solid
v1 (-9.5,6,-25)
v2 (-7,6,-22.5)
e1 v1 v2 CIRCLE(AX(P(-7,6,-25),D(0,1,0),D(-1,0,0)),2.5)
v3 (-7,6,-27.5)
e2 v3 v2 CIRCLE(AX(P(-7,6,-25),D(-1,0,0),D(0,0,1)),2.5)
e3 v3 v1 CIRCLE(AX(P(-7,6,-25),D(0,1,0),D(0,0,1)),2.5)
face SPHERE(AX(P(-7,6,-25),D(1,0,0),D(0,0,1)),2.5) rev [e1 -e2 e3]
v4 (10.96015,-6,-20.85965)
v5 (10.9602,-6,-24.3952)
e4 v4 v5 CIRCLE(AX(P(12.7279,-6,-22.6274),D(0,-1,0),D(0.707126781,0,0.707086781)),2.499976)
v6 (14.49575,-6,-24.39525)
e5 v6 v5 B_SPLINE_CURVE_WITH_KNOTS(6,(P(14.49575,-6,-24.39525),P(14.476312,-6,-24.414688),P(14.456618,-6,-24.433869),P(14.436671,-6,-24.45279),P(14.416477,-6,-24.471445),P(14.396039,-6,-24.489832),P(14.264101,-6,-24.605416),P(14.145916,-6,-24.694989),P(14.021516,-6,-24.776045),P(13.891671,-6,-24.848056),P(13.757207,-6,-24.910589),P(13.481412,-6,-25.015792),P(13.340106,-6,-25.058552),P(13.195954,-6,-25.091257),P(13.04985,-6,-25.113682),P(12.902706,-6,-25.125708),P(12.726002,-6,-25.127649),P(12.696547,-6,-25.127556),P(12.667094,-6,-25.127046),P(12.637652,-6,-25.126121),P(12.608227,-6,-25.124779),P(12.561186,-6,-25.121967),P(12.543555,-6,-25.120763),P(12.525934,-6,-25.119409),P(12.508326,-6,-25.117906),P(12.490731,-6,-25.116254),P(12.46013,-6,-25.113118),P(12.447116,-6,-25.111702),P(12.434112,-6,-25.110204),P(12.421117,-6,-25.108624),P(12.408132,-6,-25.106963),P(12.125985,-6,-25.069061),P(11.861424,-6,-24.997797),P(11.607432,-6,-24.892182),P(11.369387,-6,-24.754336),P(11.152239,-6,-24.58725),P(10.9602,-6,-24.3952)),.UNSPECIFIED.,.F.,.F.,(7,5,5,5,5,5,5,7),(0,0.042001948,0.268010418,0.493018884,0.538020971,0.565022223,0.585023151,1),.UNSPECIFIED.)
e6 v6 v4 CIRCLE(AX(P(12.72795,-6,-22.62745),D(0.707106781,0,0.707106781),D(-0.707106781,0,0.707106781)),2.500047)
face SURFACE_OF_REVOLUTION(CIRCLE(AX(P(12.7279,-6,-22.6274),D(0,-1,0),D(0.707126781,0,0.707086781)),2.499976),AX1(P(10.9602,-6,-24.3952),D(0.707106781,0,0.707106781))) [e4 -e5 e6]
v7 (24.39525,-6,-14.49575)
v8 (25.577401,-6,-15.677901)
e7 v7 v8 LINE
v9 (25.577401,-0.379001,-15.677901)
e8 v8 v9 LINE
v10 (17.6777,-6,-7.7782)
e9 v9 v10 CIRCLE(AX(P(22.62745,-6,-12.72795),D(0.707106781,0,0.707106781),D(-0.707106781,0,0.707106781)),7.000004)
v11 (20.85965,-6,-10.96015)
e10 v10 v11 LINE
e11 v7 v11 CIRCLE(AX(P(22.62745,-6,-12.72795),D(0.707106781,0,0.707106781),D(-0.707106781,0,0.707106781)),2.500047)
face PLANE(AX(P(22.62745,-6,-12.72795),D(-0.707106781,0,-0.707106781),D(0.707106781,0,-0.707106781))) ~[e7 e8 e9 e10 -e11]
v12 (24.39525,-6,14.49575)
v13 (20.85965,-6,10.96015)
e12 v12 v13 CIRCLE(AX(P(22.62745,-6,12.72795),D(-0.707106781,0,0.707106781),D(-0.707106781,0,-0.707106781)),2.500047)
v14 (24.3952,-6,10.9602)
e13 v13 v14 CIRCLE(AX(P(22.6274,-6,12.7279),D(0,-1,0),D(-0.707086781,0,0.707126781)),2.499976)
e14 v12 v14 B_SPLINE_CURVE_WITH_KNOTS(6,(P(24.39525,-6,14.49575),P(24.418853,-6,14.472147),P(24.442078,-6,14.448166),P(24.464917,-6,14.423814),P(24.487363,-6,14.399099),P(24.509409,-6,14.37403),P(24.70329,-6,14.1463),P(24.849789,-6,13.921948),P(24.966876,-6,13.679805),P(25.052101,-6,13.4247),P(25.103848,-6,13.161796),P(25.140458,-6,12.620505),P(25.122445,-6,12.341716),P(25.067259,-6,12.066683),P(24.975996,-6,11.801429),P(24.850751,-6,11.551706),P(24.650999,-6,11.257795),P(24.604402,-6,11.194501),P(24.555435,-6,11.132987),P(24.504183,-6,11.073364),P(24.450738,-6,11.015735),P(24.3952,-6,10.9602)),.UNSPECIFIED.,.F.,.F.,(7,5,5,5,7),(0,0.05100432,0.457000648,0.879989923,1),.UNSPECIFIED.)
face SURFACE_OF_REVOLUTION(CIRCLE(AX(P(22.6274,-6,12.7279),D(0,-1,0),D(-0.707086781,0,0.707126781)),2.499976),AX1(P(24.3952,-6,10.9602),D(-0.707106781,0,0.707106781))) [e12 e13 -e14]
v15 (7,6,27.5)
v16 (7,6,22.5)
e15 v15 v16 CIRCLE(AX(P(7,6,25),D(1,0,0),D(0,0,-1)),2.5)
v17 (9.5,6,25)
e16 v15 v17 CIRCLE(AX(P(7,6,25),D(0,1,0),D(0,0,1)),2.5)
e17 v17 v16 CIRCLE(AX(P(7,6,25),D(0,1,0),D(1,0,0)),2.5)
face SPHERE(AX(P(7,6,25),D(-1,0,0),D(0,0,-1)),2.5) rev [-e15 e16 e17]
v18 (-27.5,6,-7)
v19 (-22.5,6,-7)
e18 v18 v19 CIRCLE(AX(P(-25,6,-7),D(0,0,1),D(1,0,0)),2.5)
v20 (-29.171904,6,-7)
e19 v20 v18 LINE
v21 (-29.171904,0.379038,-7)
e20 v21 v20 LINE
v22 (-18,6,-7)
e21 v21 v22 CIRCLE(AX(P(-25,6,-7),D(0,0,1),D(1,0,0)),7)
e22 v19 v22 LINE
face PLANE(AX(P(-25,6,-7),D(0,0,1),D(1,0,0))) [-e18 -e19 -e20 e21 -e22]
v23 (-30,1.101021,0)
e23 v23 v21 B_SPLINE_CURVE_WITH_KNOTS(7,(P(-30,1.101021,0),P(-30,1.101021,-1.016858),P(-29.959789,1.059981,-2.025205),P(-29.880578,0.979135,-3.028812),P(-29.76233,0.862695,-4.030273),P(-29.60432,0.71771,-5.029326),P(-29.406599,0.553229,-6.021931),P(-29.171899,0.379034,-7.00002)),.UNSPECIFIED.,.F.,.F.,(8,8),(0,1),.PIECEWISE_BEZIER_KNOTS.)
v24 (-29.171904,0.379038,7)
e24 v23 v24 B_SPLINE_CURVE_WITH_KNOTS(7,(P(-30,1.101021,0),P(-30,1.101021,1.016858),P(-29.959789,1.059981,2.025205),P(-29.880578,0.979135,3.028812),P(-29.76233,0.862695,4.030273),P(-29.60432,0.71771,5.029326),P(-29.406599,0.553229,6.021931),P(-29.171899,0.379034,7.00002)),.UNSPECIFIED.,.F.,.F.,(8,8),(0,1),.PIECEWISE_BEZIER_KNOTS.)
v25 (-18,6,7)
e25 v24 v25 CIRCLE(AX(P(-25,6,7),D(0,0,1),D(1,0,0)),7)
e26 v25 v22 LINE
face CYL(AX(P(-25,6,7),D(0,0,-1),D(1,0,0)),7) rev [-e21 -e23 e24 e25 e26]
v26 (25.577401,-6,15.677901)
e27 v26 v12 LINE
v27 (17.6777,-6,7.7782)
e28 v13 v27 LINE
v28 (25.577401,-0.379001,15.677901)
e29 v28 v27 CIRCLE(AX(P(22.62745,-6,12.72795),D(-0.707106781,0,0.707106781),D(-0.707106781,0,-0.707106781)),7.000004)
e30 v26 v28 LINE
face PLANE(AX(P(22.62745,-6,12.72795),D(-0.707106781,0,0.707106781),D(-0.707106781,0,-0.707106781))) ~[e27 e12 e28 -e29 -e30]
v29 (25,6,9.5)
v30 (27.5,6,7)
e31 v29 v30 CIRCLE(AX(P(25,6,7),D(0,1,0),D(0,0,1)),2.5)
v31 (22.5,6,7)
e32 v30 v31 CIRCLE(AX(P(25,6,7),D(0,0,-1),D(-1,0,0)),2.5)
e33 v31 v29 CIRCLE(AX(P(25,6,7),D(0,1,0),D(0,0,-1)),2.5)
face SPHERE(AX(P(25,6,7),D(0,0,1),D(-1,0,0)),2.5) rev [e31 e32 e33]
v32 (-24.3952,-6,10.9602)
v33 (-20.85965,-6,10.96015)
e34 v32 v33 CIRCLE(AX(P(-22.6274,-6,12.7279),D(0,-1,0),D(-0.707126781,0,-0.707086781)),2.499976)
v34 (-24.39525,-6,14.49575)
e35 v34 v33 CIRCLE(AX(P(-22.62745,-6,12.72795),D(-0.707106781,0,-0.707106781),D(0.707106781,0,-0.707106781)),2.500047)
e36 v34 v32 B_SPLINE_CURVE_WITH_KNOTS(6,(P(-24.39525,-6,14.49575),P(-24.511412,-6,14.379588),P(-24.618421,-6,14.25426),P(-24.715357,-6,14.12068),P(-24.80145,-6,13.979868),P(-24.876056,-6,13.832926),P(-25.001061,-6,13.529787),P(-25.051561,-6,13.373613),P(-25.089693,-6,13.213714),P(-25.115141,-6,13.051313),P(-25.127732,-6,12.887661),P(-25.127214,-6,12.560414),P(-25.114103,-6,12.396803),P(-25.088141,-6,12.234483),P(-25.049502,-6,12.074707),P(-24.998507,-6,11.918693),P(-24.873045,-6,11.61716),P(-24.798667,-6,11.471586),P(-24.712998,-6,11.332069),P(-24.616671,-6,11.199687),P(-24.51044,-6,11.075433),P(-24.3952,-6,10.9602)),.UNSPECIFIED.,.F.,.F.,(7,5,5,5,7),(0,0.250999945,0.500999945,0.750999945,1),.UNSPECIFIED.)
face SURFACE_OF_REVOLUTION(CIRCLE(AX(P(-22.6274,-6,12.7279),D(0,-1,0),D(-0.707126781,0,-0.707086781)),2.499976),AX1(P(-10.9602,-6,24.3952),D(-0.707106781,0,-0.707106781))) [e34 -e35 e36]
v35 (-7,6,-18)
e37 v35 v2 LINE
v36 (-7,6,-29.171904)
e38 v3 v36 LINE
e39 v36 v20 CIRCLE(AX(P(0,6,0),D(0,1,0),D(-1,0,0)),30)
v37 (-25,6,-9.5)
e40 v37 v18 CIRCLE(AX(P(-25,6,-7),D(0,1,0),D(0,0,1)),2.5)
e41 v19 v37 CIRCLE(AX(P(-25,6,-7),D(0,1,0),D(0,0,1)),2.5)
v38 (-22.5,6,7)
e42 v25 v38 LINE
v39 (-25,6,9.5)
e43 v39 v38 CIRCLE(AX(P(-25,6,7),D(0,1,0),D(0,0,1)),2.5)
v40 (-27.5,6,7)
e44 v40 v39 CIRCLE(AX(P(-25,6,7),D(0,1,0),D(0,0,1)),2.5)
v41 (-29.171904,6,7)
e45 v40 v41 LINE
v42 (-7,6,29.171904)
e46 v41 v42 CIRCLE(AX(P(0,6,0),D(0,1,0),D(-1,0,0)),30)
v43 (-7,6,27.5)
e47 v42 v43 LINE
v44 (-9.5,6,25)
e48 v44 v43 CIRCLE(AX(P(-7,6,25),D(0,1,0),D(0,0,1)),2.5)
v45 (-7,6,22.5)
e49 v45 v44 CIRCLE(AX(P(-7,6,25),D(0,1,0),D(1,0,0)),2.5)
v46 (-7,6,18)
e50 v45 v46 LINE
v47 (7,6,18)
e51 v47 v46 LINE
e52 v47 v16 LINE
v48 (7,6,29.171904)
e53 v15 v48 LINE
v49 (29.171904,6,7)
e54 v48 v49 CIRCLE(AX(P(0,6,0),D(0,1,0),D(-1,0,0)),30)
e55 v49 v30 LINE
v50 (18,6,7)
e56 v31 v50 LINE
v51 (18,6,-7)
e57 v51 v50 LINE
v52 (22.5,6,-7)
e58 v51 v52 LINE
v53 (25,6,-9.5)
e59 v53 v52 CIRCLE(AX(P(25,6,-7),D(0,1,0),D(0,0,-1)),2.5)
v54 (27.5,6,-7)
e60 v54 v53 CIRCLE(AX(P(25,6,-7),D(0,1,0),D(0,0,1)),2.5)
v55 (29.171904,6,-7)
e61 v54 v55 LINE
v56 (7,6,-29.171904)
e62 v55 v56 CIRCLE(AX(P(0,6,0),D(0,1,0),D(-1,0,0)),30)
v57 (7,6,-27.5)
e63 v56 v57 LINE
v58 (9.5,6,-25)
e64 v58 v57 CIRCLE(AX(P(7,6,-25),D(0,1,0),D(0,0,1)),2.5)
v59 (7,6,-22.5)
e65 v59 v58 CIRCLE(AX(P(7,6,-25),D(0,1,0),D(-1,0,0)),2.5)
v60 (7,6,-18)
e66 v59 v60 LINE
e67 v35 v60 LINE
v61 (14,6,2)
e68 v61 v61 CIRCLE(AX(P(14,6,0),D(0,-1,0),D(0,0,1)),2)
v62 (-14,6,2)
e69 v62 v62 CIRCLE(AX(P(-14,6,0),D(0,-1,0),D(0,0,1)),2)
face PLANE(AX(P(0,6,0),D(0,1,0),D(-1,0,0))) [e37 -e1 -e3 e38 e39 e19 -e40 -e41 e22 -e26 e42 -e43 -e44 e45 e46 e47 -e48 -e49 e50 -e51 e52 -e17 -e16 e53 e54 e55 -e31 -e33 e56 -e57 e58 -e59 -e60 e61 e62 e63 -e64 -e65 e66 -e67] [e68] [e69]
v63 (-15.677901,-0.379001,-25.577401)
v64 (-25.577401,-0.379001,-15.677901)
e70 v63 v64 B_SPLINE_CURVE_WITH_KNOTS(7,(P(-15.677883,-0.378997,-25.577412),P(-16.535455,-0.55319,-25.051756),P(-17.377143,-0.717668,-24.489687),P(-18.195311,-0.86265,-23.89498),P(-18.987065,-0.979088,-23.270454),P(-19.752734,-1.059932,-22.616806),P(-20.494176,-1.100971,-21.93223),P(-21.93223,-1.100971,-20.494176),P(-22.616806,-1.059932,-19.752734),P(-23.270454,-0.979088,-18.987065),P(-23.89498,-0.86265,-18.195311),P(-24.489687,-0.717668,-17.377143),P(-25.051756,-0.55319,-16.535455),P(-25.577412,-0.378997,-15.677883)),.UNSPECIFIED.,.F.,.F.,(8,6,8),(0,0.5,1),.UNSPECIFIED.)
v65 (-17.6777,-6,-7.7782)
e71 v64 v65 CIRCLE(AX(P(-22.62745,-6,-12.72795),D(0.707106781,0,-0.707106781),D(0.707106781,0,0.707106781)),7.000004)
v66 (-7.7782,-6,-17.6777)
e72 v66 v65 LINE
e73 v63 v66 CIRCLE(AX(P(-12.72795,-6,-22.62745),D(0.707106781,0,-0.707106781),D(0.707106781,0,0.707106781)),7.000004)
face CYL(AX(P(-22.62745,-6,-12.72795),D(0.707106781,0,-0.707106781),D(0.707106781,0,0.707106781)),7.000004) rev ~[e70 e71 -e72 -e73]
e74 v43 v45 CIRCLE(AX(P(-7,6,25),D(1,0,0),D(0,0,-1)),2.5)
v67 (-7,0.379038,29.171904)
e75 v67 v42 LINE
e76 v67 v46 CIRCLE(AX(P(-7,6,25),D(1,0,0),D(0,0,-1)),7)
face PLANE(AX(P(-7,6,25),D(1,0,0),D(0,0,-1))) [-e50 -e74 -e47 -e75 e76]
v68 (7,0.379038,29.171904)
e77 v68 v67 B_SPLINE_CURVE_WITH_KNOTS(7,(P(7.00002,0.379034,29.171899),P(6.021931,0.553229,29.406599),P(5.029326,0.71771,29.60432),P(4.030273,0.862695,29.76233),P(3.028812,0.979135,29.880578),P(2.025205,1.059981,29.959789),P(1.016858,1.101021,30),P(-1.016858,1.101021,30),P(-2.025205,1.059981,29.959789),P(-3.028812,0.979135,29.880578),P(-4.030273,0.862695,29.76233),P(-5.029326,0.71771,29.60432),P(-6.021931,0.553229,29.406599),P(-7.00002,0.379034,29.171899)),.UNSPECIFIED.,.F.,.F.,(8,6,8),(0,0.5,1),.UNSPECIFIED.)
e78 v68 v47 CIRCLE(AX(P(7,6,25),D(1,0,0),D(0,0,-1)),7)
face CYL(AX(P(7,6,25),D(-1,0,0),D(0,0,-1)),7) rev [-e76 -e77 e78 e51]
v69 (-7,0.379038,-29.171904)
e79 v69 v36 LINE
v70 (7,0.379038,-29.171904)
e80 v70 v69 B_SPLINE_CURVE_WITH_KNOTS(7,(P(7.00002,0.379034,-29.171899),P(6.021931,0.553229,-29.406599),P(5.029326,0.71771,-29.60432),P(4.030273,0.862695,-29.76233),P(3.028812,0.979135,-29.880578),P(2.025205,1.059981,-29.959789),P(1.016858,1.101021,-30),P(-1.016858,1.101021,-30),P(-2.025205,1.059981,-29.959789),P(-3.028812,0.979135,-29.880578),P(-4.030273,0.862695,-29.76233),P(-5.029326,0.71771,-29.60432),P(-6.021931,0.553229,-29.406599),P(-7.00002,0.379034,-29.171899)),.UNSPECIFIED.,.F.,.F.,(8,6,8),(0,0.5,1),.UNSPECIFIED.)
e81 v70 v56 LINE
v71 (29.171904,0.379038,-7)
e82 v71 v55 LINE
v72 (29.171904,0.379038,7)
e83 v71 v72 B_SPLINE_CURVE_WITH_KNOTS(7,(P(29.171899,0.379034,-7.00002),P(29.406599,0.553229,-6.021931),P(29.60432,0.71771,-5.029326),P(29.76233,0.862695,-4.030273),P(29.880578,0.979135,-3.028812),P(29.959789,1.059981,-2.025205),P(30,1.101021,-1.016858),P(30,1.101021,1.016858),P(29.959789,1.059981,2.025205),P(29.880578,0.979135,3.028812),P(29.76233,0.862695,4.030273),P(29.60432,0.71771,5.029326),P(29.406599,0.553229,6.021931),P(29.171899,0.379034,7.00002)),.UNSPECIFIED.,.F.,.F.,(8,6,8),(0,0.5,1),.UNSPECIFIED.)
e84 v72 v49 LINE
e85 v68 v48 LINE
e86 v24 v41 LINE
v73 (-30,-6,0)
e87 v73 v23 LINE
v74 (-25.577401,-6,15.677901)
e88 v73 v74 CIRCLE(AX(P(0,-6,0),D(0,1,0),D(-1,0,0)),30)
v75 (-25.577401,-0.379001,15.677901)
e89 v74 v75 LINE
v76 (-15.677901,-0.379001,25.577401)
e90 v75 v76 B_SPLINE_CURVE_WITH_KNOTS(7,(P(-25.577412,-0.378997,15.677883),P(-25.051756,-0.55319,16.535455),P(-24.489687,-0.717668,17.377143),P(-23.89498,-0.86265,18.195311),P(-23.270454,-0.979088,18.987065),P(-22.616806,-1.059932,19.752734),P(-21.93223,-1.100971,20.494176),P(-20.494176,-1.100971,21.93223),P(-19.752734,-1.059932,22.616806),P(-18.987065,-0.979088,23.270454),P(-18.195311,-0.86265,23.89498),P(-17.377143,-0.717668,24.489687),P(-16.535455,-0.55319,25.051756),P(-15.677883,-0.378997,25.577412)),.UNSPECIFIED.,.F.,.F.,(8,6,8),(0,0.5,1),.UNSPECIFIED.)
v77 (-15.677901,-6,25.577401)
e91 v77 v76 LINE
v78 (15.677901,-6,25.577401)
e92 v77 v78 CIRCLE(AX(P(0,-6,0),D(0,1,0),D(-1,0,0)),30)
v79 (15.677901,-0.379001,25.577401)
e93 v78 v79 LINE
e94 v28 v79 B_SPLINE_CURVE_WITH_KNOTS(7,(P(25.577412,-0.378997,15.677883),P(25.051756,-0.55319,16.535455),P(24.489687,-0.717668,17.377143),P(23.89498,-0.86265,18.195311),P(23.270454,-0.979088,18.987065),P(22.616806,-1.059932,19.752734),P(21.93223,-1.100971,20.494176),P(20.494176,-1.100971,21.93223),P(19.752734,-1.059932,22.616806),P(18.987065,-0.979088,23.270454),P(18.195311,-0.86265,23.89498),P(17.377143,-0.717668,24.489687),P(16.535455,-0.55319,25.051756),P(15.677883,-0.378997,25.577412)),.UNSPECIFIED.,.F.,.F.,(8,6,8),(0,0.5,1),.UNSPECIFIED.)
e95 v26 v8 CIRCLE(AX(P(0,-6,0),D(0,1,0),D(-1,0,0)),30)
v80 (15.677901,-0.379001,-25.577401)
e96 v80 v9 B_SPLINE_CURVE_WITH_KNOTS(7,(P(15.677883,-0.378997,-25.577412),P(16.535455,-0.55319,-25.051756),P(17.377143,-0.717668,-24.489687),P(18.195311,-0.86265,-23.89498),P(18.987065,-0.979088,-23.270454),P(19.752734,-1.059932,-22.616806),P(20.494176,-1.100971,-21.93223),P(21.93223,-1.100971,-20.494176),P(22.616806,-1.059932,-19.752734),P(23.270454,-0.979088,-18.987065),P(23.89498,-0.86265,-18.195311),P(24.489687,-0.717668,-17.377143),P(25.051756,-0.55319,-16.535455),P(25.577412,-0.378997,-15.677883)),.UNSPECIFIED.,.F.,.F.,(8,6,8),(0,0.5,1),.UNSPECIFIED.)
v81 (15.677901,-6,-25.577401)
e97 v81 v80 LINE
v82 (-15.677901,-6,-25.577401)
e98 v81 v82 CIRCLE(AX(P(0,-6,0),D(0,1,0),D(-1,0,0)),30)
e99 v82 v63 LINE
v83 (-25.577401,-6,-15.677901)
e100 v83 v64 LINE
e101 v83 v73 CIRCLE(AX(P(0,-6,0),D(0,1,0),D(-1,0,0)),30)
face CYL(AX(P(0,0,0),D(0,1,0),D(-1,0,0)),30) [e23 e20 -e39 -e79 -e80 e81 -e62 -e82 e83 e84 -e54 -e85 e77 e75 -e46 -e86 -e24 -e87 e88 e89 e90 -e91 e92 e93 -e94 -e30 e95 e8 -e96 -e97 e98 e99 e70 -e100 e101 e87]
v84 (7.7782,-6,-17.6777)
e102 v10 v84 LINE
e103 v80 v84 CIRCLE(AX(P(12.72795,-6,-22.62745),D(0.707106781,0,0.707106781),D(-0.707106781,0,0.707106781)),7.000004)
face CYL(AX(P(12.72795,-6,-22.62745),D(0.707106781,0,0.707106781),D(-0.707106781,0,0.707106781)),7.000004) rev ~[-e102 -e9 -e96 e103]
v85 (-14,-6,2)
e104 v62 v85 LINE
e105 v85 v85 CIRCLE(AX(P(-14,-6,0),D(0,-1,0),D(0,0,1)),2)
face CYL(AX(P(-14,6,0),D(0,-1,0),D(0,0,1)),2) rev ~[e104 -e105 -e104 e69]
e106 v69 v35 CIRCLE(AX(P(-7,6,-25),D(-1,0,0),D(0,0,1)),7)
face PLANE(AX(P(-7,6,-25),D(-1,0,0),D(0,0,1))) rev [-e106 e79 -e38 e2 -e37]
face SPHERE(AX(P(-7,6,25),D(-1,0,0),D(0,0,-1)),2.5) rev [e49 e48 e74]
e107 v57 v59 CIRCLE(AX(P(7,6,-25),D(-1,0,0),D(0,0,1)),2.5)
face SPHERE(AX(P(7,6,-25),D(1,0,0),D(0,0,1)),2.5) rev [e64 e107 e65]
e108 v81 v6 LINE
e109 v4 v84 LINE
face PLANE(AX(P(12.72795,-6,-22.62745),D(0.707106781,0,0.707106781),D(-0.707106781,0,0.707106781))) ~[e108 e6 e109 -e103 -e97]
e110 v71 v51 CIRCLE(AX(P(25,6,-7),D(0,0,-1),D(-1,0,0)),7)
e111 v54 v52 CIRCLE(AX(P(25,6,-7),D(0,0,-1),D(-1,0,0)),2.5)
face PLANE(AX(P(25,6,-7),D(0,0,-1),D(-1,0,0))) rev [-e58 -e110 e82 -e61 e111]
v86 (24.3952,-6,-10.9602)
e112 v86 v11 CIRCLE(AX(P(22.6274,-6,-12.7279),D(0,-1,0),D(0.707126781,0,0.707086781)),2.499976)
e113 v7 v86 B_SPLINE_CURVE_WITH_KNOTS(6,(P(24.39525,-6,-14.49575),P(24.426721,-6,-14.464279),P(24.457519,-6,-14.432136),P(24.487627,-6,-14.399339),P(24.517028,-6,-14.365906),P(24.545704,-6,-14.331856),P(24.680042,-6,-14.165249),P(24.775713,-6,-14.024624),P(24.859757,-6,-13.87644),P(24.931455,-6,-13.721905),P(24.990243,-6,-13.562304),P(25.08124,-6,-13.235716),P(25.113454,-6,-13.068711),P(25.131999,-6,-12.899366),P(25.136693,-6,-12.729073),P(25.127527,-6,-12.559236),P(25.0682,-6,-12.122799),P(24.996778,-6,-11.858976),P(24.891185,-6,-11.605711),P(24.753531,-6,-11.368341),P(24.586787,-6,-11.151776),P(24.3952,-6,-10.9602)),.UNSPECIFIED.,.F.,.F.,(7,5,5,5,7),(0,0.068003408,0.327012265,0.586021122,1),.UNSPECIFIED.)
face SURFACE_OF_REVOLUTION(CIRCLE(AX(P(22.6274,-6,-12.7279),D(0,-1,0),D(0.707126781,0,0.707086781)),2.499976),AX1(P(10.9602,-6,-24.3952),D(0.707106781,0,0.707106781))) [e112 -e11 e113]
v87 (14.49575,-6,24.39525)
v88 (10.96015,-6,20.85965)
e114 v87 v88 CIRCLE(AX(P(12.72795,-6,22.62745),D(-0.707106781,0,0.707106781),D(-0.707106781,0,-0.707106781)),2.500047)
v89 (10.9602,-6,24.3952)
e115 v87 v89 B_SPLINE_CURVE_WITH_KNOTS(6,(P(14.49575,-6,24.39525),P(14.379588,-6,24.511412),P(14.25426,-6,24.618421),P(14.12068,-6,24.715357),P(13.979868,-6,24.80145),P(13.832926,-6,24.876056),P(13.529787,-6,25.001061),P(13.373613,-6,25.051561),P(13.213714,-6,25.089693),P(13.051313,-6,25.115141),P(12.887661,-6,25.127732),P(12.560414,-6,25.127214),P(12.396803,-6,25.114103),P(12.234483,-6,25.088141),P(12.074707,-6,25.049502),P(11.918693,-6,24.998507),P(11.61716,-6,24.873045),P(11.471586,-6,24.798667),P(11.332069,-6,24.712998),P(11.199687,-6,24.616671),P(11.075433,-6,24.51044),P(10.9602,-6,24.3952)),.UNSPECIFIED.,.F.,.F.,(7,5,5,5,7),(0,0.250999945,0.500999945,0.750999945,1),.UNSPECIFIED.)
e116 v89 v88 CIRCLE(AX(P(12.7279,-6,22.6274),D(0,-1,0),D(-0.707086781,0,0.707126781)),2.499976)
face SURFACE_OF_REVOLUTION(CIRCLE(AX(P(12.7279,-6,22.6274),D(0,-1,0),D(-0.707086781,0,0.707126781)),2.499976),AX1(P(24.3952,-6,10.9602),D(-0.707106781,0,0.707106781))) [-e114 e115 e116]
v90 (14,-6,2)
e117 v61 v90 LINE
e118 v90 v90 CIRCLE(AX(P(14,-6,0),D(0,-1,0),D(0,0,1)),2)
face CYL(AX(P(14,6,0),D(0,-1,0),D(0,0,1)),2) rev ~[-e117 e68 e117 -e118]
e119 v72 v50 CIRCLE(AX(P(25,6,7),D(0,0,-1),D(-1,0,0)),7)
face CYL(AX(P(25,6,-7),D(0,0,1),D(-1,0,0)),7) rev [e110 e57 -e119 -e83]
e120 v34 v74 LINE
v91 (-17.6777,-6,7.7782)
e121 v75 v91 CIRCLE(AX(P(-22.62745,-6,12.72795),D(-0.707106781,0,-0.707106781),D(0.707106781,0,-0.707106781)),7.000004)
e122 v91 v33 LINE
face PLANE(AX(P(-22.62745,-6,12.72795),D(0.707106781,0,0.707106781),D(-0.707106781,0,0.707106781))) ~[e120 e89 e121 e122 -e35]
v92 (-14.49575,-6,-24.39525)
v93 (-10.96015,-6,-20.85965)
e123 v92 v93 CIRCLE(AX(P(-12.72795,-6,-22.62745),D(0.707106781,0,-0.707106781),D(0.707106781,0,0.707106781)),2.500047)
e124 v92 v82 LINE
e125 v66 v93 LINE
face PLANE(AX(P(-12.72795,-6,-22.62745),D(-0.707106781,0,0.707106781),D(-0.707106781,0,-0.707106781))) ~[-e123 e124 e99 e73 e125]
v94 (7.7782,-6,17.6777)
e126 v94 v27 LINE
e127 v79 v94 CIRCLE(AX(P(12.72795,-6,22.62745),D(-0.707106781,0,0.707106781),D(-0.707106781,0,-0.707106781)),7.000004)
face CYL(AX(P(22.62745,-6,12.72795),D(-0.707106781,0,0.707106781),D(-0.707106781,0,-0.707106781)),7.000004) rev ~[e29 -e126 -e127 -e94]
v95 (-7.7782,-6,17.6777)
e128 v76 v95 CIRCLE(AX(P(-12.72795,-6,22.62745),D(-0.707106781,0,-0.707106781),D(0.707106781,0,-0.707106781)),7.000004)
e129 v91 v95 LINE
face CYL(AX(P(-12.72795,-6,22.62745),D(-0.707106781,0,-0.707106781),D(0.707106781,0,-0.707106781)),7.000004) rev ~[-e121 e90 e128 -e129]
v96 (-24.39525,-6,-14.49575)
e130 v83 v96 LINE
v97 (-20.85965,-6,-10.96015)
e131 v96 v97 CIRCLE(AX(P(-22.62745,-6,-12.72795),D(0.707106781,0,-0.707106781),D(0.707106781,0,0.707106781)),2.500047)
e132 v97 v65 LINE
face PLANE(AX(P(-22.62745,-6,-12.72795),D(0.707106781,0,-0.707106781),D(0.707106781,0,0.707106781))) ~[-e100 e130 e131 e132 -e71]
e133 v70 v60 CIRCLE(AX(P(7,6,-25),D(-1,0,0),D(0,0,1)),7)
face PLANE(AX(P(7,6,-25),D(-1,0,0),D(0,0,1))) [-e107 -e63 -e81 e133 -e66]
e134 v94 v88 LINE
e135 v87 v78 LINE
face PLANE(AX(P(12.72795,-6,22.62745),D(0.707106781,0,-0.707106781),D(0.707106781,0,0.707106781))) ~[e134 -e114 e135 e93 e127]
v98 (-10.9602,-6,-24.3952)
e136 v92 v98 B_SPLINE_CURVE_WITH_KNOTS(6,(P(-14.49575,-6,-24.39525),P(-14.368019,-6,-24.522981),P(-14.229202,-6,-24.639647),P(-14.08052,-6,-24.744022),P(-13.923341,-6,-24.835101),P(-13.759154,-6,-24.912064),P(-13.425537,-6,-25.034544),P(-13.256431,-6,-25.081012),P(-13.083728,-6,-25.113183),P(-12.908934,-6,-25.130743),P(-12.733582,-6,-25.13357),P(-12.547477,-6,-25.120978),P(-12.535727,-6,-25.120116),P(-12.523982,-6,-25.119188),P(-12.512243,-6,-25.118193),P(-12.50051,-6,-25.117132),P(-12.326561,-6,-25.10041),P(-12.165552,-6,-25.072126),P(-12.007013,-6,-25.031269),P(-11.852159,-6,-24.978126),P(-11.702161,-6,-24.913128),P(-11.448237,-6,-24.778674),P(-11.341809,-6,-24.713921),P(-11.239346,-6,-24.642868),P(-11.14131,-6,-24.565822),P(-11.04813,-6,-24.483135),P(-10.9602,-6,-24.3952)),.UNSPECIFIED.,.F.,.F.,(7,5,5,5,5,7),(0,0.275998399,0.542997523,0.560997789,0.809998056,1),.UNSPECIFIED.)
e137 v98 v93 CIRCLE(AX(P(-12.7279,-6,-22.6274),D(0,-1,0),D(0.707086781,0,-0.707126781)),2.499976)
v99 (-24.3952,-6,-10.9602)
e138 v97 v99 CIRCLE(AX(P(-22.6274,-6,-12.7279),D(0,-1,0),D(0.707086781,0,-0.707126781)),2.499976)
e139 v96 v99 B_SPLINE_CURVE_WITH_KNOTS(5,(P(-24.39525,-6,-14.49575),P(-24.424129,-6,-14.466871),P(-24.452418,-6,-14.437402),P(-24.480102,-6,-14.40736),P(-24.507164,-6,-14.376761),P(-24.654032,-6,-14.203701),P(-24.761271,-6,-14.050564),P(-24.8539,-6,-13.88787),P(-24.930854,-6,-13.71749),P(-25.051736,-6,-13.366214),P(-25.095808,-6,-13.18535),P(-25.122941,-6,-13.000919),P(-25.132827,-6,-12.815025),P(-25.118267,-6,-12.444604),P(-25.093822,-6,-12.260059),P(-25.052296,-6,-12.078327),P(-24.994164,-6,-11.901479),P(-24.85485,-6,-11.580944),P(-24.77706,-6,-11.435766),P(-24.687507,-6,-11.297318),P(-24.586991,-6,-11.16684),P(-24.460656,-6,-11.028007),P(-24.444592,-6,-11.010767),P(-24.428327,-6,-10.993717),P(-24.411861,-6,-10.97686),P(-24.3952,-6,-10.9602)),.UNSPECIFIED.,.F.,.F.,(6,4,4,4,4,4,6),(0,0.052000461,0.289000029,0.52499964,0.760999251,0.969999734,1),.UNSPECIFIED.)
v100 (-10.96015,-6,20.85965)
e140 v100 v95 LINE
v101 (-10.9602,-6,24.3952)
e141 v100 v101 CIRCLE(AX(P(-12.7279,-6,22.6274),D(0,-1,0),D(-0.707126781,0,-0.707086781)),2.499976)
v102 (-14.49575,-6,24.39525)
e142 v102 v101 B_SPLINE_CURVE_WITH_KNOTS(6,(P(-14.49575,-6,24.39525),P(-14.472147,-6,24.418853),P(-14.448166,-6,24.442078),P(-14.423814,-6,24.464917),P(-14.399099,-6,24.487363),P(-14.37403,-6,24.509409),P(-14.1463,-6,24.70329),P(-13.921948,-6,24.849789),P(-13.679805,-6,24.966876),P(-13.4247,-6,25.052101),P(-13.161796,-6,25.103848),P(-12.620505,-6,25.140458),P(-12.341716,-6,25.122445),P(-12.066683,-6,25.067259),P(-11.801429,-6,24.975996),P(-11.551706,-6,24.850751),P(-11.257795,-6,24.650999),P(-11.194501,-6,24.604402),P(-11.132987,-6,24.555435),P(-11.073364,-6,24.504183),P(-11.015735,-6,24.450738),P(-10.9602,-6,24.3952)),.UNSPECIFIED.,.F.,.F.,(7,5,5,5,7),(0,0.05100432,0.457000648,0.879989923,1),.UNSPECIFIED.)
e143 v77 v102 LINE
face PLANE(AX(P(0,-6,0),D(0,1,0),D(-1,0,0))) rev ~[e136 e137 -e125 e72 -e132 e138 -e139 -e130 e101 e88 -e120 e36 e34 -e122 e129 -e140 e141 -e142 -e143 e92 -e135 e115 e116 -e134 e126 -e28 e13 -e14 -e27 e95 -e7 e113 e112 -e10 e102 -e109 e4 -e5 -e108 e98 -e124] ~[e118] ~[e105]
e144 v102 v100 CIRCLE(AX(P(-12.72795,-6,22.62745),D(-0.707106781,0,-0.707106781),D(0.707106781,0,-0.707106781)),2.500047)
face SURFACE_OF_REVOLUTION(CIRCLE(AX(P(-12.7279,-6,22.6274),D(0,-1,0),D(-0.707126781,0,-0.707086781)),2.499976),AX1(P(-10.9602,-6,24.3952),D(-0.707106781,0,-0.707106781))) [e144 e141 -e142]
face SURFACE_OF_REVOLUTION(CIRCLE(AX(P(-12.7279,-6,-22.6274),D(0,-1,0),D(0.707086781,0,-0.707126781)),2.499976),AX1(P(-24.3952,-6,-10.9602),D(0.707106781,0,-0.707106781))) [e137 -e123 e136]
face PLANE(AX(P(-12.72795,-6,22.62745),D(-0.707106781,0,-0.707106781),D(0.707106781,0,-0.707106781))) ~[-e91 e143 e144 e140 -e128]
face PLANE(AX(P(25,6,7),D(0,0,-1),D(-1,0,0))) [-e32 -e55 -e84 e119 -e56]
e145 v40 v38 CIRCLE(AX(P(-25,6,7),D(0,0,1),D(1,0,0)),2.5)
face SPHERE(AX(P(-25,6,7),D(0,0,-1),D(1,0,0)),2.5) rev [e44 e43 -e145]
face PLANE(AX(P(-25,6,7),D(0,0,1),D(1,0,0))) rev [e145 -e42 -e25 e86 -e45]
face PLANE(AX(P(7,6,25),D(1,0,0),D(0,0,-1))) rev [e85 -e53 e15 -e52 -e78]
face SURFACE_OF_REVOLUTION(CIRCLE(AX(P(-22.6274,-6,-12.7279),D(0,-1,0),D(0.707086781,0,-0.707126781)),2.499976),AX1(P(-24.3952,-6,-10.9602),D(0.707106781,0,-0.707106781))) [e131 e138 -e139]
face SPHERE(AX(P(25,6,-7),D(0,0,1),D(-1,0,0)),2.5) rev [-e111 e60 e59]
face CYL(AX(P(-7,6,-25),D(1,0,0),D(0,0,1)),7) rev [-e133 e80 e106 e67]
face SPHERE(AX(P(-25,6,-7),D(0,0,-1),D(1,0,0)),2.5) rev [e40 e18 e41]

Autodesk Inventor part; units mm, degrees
ref_plane "YZ Plane" through (0, 0, 0) normal (1, 0, 0) x (0, 1, 0)
ref_plane "XZ Plane" through (0, 0, 0) normal (0, 1, 0) x (-1, 0, 0)
ref_plane "XY Plane" through (0, 0, 0) normal (0, 0, 1) x (1, 0, 0)
sketch "Sketch1" plane through (0, 0, 0) normal (0, 1, 0) x (-1, 0, 0)
  circle A0 centre (0, 0) radius 30
  line L0 (-25, 7) -> (-18, 7)
  line L1 (-18, 7) -> (-18, -7)
  line L2 (-18, -7) -> (-25, -7)
  line L3 (-25, -7) -> (-25, 7)
  line L4 (-25, 7) -> (-18, -7) construction
  line L5 (-18, 7) -> (-25, -7) construction
  line L6 (-25, 7) -> (-25, 9.5)
  line L7 (-25, 7) -> (-22.5, 7)
  arc A1 (-22.5, 7) -> (-25, 9.5) centre (-25, 7) ccw
  line L8 (-25, -7) -> (-25, -9.5)
  line L9 (-25, -7) -> (-22.5, -7)
  arc A2 (-25, -9.5) -> (-22.5, -7) centre (-25, -7) ccw
  point P0 (-21.5, 0)
  dimension "d0" = 60
  dimension "d1" = 18
  dimension "d2" = 7
  dimension "d3" = 14
  dimension "d4" = 0
  dimension "d5" = 2.5
  dimension "d6" = 2.5
  dimension "d7" = 2.5
  dimension "d8" = 2.5
  dimension "d9" = 2.5
  dimension "d10" = 2.5
extrude "Extrusion1" add sketch "Sketch1" along normal mid plane 12 contours A0 | L6 A1 L0 | L0 L1 L2 L3 | L2 A2 L8
sketch "Sketch2" plane through (0, 6, 0) normal (0, 1, 0) x (1, 0, 0)
  line L0 (25, 7) -> (18, 7)
  line L1 (18, 7) -> (18, -7)
  line L2 (18, -7) -> (25, -7)
  line L3 (25, -7) -> (25, 7)
  line L4 (25, 7) -> (18, -7) construction
  line L5 (18, 7) -> (25, -7) construction
  arc A0 (25, -4.5) -> (25, -9.5) centre (25, -7) ccw
  arc A1 (25, 9.5) -> (25, 4.5) centre (25, 7) ccw
  line L6 (25, -9.5) -> (25, 9.5)
  point P0 (0, 0)
  point P1 (21.5, 0)
  dimension "d13" = 18
  dimension "d14" = 7
  dimension "d15" = 14
  dimension "d16" = 0
  dimension "d17" = 5
  dimension "d18" = 5
revolve "Revolution1" cut sketch "Sketch2" angle 360 about axis through (25, 6, 9.5) along (0, 0, -1)
pattern_circular "Circular Pattern1" count 4 over 360 about axis through (0, -10, 0) along (0, 1, 0) of "Revolution1"
sketch "Sketch3" plane through (0, -6, 0) normal (0, -1, 0) x (1, 0, 0)
  circle A0 centre (0, 0) radius 30 projected
  line L0 (0, 0) -> (-30, 0)
  line L1 (0, 0) -> (-17.6777, 17.6777)
  line L2 (-7.7782, 17.6777) -> (-17.6777, 7.7782)
  line L3 (-27.5772, 17.6777) -> (-17.6777, 27.5772)
  line L4 (-17.6777, 27.5772) -> (-17.6777, 7.7782) construction
  line L5 (-7.7782, 17.6777) -> (-27.5772, 17.6777) construction
  arc A1 (-14.4957, 20.8597) -> (-10.9602, 24.3952) centre (-12.7279, 22.6274) ccw
  arc A2 (-24.3952, 10.9602) -> (-20.8597, 14.4957) centre (-22.6274, 12.7279) ccw
  line L6 (-10.9602, 24.3952) -> (-24.3952, 10.9602)
  line L7 (-17.6777, 27.5772) -> (-14.4957, 24.3952)
  line L8 (-12.7279, 22.6274) -> (-7.7782, 17.6777)
  line L9 (-17.6777, 7.7782) -> (-22.6274, 12.7279)
  line L10 (-24.3952, 14.4957) -> (-27.5772, 17.6777)
  dimension "d23" = 25
  dimension "d24" = 45
  dimension "d25" = 14
  dimension "d26" = 90
  dimension "d27" = 14
  dimension "d28" = 5
  dimension "d29" = 5
revolve "Revolution2" cut sketch "Sketch3" angle 360 about axis through (-10.9602, -6, 24.3952) along (-0.7071, 0, -0.7071) contours L2 L9 A2 L6 L1 | L1 L6 A1 L8 L2 | L6 L8 A1 | A2 L9 L6 | L8 L6 A1 | A2 L6 L9
pattern_circular "Circular Pattern2" count 4 over 360 about axis through (0, -10, 0) along (0, 1, 0) of "Revolution2"
sketch "Sketch4" plane through (0, 6, 0) normal (0, 1, 0) x (1, 0, 0)
  point P0 (0, 0)
  point P1 (-14, 0)
  point P2 (14, 0)
  dimension "d34" = 14
  dimension "d35" = 14
hole "Hole1" at (-14, 6, 0) at (14, 6, 0) direction (0, -1, 0) diameter 4 end through all
properties part number "omni_wheel_core_2"
